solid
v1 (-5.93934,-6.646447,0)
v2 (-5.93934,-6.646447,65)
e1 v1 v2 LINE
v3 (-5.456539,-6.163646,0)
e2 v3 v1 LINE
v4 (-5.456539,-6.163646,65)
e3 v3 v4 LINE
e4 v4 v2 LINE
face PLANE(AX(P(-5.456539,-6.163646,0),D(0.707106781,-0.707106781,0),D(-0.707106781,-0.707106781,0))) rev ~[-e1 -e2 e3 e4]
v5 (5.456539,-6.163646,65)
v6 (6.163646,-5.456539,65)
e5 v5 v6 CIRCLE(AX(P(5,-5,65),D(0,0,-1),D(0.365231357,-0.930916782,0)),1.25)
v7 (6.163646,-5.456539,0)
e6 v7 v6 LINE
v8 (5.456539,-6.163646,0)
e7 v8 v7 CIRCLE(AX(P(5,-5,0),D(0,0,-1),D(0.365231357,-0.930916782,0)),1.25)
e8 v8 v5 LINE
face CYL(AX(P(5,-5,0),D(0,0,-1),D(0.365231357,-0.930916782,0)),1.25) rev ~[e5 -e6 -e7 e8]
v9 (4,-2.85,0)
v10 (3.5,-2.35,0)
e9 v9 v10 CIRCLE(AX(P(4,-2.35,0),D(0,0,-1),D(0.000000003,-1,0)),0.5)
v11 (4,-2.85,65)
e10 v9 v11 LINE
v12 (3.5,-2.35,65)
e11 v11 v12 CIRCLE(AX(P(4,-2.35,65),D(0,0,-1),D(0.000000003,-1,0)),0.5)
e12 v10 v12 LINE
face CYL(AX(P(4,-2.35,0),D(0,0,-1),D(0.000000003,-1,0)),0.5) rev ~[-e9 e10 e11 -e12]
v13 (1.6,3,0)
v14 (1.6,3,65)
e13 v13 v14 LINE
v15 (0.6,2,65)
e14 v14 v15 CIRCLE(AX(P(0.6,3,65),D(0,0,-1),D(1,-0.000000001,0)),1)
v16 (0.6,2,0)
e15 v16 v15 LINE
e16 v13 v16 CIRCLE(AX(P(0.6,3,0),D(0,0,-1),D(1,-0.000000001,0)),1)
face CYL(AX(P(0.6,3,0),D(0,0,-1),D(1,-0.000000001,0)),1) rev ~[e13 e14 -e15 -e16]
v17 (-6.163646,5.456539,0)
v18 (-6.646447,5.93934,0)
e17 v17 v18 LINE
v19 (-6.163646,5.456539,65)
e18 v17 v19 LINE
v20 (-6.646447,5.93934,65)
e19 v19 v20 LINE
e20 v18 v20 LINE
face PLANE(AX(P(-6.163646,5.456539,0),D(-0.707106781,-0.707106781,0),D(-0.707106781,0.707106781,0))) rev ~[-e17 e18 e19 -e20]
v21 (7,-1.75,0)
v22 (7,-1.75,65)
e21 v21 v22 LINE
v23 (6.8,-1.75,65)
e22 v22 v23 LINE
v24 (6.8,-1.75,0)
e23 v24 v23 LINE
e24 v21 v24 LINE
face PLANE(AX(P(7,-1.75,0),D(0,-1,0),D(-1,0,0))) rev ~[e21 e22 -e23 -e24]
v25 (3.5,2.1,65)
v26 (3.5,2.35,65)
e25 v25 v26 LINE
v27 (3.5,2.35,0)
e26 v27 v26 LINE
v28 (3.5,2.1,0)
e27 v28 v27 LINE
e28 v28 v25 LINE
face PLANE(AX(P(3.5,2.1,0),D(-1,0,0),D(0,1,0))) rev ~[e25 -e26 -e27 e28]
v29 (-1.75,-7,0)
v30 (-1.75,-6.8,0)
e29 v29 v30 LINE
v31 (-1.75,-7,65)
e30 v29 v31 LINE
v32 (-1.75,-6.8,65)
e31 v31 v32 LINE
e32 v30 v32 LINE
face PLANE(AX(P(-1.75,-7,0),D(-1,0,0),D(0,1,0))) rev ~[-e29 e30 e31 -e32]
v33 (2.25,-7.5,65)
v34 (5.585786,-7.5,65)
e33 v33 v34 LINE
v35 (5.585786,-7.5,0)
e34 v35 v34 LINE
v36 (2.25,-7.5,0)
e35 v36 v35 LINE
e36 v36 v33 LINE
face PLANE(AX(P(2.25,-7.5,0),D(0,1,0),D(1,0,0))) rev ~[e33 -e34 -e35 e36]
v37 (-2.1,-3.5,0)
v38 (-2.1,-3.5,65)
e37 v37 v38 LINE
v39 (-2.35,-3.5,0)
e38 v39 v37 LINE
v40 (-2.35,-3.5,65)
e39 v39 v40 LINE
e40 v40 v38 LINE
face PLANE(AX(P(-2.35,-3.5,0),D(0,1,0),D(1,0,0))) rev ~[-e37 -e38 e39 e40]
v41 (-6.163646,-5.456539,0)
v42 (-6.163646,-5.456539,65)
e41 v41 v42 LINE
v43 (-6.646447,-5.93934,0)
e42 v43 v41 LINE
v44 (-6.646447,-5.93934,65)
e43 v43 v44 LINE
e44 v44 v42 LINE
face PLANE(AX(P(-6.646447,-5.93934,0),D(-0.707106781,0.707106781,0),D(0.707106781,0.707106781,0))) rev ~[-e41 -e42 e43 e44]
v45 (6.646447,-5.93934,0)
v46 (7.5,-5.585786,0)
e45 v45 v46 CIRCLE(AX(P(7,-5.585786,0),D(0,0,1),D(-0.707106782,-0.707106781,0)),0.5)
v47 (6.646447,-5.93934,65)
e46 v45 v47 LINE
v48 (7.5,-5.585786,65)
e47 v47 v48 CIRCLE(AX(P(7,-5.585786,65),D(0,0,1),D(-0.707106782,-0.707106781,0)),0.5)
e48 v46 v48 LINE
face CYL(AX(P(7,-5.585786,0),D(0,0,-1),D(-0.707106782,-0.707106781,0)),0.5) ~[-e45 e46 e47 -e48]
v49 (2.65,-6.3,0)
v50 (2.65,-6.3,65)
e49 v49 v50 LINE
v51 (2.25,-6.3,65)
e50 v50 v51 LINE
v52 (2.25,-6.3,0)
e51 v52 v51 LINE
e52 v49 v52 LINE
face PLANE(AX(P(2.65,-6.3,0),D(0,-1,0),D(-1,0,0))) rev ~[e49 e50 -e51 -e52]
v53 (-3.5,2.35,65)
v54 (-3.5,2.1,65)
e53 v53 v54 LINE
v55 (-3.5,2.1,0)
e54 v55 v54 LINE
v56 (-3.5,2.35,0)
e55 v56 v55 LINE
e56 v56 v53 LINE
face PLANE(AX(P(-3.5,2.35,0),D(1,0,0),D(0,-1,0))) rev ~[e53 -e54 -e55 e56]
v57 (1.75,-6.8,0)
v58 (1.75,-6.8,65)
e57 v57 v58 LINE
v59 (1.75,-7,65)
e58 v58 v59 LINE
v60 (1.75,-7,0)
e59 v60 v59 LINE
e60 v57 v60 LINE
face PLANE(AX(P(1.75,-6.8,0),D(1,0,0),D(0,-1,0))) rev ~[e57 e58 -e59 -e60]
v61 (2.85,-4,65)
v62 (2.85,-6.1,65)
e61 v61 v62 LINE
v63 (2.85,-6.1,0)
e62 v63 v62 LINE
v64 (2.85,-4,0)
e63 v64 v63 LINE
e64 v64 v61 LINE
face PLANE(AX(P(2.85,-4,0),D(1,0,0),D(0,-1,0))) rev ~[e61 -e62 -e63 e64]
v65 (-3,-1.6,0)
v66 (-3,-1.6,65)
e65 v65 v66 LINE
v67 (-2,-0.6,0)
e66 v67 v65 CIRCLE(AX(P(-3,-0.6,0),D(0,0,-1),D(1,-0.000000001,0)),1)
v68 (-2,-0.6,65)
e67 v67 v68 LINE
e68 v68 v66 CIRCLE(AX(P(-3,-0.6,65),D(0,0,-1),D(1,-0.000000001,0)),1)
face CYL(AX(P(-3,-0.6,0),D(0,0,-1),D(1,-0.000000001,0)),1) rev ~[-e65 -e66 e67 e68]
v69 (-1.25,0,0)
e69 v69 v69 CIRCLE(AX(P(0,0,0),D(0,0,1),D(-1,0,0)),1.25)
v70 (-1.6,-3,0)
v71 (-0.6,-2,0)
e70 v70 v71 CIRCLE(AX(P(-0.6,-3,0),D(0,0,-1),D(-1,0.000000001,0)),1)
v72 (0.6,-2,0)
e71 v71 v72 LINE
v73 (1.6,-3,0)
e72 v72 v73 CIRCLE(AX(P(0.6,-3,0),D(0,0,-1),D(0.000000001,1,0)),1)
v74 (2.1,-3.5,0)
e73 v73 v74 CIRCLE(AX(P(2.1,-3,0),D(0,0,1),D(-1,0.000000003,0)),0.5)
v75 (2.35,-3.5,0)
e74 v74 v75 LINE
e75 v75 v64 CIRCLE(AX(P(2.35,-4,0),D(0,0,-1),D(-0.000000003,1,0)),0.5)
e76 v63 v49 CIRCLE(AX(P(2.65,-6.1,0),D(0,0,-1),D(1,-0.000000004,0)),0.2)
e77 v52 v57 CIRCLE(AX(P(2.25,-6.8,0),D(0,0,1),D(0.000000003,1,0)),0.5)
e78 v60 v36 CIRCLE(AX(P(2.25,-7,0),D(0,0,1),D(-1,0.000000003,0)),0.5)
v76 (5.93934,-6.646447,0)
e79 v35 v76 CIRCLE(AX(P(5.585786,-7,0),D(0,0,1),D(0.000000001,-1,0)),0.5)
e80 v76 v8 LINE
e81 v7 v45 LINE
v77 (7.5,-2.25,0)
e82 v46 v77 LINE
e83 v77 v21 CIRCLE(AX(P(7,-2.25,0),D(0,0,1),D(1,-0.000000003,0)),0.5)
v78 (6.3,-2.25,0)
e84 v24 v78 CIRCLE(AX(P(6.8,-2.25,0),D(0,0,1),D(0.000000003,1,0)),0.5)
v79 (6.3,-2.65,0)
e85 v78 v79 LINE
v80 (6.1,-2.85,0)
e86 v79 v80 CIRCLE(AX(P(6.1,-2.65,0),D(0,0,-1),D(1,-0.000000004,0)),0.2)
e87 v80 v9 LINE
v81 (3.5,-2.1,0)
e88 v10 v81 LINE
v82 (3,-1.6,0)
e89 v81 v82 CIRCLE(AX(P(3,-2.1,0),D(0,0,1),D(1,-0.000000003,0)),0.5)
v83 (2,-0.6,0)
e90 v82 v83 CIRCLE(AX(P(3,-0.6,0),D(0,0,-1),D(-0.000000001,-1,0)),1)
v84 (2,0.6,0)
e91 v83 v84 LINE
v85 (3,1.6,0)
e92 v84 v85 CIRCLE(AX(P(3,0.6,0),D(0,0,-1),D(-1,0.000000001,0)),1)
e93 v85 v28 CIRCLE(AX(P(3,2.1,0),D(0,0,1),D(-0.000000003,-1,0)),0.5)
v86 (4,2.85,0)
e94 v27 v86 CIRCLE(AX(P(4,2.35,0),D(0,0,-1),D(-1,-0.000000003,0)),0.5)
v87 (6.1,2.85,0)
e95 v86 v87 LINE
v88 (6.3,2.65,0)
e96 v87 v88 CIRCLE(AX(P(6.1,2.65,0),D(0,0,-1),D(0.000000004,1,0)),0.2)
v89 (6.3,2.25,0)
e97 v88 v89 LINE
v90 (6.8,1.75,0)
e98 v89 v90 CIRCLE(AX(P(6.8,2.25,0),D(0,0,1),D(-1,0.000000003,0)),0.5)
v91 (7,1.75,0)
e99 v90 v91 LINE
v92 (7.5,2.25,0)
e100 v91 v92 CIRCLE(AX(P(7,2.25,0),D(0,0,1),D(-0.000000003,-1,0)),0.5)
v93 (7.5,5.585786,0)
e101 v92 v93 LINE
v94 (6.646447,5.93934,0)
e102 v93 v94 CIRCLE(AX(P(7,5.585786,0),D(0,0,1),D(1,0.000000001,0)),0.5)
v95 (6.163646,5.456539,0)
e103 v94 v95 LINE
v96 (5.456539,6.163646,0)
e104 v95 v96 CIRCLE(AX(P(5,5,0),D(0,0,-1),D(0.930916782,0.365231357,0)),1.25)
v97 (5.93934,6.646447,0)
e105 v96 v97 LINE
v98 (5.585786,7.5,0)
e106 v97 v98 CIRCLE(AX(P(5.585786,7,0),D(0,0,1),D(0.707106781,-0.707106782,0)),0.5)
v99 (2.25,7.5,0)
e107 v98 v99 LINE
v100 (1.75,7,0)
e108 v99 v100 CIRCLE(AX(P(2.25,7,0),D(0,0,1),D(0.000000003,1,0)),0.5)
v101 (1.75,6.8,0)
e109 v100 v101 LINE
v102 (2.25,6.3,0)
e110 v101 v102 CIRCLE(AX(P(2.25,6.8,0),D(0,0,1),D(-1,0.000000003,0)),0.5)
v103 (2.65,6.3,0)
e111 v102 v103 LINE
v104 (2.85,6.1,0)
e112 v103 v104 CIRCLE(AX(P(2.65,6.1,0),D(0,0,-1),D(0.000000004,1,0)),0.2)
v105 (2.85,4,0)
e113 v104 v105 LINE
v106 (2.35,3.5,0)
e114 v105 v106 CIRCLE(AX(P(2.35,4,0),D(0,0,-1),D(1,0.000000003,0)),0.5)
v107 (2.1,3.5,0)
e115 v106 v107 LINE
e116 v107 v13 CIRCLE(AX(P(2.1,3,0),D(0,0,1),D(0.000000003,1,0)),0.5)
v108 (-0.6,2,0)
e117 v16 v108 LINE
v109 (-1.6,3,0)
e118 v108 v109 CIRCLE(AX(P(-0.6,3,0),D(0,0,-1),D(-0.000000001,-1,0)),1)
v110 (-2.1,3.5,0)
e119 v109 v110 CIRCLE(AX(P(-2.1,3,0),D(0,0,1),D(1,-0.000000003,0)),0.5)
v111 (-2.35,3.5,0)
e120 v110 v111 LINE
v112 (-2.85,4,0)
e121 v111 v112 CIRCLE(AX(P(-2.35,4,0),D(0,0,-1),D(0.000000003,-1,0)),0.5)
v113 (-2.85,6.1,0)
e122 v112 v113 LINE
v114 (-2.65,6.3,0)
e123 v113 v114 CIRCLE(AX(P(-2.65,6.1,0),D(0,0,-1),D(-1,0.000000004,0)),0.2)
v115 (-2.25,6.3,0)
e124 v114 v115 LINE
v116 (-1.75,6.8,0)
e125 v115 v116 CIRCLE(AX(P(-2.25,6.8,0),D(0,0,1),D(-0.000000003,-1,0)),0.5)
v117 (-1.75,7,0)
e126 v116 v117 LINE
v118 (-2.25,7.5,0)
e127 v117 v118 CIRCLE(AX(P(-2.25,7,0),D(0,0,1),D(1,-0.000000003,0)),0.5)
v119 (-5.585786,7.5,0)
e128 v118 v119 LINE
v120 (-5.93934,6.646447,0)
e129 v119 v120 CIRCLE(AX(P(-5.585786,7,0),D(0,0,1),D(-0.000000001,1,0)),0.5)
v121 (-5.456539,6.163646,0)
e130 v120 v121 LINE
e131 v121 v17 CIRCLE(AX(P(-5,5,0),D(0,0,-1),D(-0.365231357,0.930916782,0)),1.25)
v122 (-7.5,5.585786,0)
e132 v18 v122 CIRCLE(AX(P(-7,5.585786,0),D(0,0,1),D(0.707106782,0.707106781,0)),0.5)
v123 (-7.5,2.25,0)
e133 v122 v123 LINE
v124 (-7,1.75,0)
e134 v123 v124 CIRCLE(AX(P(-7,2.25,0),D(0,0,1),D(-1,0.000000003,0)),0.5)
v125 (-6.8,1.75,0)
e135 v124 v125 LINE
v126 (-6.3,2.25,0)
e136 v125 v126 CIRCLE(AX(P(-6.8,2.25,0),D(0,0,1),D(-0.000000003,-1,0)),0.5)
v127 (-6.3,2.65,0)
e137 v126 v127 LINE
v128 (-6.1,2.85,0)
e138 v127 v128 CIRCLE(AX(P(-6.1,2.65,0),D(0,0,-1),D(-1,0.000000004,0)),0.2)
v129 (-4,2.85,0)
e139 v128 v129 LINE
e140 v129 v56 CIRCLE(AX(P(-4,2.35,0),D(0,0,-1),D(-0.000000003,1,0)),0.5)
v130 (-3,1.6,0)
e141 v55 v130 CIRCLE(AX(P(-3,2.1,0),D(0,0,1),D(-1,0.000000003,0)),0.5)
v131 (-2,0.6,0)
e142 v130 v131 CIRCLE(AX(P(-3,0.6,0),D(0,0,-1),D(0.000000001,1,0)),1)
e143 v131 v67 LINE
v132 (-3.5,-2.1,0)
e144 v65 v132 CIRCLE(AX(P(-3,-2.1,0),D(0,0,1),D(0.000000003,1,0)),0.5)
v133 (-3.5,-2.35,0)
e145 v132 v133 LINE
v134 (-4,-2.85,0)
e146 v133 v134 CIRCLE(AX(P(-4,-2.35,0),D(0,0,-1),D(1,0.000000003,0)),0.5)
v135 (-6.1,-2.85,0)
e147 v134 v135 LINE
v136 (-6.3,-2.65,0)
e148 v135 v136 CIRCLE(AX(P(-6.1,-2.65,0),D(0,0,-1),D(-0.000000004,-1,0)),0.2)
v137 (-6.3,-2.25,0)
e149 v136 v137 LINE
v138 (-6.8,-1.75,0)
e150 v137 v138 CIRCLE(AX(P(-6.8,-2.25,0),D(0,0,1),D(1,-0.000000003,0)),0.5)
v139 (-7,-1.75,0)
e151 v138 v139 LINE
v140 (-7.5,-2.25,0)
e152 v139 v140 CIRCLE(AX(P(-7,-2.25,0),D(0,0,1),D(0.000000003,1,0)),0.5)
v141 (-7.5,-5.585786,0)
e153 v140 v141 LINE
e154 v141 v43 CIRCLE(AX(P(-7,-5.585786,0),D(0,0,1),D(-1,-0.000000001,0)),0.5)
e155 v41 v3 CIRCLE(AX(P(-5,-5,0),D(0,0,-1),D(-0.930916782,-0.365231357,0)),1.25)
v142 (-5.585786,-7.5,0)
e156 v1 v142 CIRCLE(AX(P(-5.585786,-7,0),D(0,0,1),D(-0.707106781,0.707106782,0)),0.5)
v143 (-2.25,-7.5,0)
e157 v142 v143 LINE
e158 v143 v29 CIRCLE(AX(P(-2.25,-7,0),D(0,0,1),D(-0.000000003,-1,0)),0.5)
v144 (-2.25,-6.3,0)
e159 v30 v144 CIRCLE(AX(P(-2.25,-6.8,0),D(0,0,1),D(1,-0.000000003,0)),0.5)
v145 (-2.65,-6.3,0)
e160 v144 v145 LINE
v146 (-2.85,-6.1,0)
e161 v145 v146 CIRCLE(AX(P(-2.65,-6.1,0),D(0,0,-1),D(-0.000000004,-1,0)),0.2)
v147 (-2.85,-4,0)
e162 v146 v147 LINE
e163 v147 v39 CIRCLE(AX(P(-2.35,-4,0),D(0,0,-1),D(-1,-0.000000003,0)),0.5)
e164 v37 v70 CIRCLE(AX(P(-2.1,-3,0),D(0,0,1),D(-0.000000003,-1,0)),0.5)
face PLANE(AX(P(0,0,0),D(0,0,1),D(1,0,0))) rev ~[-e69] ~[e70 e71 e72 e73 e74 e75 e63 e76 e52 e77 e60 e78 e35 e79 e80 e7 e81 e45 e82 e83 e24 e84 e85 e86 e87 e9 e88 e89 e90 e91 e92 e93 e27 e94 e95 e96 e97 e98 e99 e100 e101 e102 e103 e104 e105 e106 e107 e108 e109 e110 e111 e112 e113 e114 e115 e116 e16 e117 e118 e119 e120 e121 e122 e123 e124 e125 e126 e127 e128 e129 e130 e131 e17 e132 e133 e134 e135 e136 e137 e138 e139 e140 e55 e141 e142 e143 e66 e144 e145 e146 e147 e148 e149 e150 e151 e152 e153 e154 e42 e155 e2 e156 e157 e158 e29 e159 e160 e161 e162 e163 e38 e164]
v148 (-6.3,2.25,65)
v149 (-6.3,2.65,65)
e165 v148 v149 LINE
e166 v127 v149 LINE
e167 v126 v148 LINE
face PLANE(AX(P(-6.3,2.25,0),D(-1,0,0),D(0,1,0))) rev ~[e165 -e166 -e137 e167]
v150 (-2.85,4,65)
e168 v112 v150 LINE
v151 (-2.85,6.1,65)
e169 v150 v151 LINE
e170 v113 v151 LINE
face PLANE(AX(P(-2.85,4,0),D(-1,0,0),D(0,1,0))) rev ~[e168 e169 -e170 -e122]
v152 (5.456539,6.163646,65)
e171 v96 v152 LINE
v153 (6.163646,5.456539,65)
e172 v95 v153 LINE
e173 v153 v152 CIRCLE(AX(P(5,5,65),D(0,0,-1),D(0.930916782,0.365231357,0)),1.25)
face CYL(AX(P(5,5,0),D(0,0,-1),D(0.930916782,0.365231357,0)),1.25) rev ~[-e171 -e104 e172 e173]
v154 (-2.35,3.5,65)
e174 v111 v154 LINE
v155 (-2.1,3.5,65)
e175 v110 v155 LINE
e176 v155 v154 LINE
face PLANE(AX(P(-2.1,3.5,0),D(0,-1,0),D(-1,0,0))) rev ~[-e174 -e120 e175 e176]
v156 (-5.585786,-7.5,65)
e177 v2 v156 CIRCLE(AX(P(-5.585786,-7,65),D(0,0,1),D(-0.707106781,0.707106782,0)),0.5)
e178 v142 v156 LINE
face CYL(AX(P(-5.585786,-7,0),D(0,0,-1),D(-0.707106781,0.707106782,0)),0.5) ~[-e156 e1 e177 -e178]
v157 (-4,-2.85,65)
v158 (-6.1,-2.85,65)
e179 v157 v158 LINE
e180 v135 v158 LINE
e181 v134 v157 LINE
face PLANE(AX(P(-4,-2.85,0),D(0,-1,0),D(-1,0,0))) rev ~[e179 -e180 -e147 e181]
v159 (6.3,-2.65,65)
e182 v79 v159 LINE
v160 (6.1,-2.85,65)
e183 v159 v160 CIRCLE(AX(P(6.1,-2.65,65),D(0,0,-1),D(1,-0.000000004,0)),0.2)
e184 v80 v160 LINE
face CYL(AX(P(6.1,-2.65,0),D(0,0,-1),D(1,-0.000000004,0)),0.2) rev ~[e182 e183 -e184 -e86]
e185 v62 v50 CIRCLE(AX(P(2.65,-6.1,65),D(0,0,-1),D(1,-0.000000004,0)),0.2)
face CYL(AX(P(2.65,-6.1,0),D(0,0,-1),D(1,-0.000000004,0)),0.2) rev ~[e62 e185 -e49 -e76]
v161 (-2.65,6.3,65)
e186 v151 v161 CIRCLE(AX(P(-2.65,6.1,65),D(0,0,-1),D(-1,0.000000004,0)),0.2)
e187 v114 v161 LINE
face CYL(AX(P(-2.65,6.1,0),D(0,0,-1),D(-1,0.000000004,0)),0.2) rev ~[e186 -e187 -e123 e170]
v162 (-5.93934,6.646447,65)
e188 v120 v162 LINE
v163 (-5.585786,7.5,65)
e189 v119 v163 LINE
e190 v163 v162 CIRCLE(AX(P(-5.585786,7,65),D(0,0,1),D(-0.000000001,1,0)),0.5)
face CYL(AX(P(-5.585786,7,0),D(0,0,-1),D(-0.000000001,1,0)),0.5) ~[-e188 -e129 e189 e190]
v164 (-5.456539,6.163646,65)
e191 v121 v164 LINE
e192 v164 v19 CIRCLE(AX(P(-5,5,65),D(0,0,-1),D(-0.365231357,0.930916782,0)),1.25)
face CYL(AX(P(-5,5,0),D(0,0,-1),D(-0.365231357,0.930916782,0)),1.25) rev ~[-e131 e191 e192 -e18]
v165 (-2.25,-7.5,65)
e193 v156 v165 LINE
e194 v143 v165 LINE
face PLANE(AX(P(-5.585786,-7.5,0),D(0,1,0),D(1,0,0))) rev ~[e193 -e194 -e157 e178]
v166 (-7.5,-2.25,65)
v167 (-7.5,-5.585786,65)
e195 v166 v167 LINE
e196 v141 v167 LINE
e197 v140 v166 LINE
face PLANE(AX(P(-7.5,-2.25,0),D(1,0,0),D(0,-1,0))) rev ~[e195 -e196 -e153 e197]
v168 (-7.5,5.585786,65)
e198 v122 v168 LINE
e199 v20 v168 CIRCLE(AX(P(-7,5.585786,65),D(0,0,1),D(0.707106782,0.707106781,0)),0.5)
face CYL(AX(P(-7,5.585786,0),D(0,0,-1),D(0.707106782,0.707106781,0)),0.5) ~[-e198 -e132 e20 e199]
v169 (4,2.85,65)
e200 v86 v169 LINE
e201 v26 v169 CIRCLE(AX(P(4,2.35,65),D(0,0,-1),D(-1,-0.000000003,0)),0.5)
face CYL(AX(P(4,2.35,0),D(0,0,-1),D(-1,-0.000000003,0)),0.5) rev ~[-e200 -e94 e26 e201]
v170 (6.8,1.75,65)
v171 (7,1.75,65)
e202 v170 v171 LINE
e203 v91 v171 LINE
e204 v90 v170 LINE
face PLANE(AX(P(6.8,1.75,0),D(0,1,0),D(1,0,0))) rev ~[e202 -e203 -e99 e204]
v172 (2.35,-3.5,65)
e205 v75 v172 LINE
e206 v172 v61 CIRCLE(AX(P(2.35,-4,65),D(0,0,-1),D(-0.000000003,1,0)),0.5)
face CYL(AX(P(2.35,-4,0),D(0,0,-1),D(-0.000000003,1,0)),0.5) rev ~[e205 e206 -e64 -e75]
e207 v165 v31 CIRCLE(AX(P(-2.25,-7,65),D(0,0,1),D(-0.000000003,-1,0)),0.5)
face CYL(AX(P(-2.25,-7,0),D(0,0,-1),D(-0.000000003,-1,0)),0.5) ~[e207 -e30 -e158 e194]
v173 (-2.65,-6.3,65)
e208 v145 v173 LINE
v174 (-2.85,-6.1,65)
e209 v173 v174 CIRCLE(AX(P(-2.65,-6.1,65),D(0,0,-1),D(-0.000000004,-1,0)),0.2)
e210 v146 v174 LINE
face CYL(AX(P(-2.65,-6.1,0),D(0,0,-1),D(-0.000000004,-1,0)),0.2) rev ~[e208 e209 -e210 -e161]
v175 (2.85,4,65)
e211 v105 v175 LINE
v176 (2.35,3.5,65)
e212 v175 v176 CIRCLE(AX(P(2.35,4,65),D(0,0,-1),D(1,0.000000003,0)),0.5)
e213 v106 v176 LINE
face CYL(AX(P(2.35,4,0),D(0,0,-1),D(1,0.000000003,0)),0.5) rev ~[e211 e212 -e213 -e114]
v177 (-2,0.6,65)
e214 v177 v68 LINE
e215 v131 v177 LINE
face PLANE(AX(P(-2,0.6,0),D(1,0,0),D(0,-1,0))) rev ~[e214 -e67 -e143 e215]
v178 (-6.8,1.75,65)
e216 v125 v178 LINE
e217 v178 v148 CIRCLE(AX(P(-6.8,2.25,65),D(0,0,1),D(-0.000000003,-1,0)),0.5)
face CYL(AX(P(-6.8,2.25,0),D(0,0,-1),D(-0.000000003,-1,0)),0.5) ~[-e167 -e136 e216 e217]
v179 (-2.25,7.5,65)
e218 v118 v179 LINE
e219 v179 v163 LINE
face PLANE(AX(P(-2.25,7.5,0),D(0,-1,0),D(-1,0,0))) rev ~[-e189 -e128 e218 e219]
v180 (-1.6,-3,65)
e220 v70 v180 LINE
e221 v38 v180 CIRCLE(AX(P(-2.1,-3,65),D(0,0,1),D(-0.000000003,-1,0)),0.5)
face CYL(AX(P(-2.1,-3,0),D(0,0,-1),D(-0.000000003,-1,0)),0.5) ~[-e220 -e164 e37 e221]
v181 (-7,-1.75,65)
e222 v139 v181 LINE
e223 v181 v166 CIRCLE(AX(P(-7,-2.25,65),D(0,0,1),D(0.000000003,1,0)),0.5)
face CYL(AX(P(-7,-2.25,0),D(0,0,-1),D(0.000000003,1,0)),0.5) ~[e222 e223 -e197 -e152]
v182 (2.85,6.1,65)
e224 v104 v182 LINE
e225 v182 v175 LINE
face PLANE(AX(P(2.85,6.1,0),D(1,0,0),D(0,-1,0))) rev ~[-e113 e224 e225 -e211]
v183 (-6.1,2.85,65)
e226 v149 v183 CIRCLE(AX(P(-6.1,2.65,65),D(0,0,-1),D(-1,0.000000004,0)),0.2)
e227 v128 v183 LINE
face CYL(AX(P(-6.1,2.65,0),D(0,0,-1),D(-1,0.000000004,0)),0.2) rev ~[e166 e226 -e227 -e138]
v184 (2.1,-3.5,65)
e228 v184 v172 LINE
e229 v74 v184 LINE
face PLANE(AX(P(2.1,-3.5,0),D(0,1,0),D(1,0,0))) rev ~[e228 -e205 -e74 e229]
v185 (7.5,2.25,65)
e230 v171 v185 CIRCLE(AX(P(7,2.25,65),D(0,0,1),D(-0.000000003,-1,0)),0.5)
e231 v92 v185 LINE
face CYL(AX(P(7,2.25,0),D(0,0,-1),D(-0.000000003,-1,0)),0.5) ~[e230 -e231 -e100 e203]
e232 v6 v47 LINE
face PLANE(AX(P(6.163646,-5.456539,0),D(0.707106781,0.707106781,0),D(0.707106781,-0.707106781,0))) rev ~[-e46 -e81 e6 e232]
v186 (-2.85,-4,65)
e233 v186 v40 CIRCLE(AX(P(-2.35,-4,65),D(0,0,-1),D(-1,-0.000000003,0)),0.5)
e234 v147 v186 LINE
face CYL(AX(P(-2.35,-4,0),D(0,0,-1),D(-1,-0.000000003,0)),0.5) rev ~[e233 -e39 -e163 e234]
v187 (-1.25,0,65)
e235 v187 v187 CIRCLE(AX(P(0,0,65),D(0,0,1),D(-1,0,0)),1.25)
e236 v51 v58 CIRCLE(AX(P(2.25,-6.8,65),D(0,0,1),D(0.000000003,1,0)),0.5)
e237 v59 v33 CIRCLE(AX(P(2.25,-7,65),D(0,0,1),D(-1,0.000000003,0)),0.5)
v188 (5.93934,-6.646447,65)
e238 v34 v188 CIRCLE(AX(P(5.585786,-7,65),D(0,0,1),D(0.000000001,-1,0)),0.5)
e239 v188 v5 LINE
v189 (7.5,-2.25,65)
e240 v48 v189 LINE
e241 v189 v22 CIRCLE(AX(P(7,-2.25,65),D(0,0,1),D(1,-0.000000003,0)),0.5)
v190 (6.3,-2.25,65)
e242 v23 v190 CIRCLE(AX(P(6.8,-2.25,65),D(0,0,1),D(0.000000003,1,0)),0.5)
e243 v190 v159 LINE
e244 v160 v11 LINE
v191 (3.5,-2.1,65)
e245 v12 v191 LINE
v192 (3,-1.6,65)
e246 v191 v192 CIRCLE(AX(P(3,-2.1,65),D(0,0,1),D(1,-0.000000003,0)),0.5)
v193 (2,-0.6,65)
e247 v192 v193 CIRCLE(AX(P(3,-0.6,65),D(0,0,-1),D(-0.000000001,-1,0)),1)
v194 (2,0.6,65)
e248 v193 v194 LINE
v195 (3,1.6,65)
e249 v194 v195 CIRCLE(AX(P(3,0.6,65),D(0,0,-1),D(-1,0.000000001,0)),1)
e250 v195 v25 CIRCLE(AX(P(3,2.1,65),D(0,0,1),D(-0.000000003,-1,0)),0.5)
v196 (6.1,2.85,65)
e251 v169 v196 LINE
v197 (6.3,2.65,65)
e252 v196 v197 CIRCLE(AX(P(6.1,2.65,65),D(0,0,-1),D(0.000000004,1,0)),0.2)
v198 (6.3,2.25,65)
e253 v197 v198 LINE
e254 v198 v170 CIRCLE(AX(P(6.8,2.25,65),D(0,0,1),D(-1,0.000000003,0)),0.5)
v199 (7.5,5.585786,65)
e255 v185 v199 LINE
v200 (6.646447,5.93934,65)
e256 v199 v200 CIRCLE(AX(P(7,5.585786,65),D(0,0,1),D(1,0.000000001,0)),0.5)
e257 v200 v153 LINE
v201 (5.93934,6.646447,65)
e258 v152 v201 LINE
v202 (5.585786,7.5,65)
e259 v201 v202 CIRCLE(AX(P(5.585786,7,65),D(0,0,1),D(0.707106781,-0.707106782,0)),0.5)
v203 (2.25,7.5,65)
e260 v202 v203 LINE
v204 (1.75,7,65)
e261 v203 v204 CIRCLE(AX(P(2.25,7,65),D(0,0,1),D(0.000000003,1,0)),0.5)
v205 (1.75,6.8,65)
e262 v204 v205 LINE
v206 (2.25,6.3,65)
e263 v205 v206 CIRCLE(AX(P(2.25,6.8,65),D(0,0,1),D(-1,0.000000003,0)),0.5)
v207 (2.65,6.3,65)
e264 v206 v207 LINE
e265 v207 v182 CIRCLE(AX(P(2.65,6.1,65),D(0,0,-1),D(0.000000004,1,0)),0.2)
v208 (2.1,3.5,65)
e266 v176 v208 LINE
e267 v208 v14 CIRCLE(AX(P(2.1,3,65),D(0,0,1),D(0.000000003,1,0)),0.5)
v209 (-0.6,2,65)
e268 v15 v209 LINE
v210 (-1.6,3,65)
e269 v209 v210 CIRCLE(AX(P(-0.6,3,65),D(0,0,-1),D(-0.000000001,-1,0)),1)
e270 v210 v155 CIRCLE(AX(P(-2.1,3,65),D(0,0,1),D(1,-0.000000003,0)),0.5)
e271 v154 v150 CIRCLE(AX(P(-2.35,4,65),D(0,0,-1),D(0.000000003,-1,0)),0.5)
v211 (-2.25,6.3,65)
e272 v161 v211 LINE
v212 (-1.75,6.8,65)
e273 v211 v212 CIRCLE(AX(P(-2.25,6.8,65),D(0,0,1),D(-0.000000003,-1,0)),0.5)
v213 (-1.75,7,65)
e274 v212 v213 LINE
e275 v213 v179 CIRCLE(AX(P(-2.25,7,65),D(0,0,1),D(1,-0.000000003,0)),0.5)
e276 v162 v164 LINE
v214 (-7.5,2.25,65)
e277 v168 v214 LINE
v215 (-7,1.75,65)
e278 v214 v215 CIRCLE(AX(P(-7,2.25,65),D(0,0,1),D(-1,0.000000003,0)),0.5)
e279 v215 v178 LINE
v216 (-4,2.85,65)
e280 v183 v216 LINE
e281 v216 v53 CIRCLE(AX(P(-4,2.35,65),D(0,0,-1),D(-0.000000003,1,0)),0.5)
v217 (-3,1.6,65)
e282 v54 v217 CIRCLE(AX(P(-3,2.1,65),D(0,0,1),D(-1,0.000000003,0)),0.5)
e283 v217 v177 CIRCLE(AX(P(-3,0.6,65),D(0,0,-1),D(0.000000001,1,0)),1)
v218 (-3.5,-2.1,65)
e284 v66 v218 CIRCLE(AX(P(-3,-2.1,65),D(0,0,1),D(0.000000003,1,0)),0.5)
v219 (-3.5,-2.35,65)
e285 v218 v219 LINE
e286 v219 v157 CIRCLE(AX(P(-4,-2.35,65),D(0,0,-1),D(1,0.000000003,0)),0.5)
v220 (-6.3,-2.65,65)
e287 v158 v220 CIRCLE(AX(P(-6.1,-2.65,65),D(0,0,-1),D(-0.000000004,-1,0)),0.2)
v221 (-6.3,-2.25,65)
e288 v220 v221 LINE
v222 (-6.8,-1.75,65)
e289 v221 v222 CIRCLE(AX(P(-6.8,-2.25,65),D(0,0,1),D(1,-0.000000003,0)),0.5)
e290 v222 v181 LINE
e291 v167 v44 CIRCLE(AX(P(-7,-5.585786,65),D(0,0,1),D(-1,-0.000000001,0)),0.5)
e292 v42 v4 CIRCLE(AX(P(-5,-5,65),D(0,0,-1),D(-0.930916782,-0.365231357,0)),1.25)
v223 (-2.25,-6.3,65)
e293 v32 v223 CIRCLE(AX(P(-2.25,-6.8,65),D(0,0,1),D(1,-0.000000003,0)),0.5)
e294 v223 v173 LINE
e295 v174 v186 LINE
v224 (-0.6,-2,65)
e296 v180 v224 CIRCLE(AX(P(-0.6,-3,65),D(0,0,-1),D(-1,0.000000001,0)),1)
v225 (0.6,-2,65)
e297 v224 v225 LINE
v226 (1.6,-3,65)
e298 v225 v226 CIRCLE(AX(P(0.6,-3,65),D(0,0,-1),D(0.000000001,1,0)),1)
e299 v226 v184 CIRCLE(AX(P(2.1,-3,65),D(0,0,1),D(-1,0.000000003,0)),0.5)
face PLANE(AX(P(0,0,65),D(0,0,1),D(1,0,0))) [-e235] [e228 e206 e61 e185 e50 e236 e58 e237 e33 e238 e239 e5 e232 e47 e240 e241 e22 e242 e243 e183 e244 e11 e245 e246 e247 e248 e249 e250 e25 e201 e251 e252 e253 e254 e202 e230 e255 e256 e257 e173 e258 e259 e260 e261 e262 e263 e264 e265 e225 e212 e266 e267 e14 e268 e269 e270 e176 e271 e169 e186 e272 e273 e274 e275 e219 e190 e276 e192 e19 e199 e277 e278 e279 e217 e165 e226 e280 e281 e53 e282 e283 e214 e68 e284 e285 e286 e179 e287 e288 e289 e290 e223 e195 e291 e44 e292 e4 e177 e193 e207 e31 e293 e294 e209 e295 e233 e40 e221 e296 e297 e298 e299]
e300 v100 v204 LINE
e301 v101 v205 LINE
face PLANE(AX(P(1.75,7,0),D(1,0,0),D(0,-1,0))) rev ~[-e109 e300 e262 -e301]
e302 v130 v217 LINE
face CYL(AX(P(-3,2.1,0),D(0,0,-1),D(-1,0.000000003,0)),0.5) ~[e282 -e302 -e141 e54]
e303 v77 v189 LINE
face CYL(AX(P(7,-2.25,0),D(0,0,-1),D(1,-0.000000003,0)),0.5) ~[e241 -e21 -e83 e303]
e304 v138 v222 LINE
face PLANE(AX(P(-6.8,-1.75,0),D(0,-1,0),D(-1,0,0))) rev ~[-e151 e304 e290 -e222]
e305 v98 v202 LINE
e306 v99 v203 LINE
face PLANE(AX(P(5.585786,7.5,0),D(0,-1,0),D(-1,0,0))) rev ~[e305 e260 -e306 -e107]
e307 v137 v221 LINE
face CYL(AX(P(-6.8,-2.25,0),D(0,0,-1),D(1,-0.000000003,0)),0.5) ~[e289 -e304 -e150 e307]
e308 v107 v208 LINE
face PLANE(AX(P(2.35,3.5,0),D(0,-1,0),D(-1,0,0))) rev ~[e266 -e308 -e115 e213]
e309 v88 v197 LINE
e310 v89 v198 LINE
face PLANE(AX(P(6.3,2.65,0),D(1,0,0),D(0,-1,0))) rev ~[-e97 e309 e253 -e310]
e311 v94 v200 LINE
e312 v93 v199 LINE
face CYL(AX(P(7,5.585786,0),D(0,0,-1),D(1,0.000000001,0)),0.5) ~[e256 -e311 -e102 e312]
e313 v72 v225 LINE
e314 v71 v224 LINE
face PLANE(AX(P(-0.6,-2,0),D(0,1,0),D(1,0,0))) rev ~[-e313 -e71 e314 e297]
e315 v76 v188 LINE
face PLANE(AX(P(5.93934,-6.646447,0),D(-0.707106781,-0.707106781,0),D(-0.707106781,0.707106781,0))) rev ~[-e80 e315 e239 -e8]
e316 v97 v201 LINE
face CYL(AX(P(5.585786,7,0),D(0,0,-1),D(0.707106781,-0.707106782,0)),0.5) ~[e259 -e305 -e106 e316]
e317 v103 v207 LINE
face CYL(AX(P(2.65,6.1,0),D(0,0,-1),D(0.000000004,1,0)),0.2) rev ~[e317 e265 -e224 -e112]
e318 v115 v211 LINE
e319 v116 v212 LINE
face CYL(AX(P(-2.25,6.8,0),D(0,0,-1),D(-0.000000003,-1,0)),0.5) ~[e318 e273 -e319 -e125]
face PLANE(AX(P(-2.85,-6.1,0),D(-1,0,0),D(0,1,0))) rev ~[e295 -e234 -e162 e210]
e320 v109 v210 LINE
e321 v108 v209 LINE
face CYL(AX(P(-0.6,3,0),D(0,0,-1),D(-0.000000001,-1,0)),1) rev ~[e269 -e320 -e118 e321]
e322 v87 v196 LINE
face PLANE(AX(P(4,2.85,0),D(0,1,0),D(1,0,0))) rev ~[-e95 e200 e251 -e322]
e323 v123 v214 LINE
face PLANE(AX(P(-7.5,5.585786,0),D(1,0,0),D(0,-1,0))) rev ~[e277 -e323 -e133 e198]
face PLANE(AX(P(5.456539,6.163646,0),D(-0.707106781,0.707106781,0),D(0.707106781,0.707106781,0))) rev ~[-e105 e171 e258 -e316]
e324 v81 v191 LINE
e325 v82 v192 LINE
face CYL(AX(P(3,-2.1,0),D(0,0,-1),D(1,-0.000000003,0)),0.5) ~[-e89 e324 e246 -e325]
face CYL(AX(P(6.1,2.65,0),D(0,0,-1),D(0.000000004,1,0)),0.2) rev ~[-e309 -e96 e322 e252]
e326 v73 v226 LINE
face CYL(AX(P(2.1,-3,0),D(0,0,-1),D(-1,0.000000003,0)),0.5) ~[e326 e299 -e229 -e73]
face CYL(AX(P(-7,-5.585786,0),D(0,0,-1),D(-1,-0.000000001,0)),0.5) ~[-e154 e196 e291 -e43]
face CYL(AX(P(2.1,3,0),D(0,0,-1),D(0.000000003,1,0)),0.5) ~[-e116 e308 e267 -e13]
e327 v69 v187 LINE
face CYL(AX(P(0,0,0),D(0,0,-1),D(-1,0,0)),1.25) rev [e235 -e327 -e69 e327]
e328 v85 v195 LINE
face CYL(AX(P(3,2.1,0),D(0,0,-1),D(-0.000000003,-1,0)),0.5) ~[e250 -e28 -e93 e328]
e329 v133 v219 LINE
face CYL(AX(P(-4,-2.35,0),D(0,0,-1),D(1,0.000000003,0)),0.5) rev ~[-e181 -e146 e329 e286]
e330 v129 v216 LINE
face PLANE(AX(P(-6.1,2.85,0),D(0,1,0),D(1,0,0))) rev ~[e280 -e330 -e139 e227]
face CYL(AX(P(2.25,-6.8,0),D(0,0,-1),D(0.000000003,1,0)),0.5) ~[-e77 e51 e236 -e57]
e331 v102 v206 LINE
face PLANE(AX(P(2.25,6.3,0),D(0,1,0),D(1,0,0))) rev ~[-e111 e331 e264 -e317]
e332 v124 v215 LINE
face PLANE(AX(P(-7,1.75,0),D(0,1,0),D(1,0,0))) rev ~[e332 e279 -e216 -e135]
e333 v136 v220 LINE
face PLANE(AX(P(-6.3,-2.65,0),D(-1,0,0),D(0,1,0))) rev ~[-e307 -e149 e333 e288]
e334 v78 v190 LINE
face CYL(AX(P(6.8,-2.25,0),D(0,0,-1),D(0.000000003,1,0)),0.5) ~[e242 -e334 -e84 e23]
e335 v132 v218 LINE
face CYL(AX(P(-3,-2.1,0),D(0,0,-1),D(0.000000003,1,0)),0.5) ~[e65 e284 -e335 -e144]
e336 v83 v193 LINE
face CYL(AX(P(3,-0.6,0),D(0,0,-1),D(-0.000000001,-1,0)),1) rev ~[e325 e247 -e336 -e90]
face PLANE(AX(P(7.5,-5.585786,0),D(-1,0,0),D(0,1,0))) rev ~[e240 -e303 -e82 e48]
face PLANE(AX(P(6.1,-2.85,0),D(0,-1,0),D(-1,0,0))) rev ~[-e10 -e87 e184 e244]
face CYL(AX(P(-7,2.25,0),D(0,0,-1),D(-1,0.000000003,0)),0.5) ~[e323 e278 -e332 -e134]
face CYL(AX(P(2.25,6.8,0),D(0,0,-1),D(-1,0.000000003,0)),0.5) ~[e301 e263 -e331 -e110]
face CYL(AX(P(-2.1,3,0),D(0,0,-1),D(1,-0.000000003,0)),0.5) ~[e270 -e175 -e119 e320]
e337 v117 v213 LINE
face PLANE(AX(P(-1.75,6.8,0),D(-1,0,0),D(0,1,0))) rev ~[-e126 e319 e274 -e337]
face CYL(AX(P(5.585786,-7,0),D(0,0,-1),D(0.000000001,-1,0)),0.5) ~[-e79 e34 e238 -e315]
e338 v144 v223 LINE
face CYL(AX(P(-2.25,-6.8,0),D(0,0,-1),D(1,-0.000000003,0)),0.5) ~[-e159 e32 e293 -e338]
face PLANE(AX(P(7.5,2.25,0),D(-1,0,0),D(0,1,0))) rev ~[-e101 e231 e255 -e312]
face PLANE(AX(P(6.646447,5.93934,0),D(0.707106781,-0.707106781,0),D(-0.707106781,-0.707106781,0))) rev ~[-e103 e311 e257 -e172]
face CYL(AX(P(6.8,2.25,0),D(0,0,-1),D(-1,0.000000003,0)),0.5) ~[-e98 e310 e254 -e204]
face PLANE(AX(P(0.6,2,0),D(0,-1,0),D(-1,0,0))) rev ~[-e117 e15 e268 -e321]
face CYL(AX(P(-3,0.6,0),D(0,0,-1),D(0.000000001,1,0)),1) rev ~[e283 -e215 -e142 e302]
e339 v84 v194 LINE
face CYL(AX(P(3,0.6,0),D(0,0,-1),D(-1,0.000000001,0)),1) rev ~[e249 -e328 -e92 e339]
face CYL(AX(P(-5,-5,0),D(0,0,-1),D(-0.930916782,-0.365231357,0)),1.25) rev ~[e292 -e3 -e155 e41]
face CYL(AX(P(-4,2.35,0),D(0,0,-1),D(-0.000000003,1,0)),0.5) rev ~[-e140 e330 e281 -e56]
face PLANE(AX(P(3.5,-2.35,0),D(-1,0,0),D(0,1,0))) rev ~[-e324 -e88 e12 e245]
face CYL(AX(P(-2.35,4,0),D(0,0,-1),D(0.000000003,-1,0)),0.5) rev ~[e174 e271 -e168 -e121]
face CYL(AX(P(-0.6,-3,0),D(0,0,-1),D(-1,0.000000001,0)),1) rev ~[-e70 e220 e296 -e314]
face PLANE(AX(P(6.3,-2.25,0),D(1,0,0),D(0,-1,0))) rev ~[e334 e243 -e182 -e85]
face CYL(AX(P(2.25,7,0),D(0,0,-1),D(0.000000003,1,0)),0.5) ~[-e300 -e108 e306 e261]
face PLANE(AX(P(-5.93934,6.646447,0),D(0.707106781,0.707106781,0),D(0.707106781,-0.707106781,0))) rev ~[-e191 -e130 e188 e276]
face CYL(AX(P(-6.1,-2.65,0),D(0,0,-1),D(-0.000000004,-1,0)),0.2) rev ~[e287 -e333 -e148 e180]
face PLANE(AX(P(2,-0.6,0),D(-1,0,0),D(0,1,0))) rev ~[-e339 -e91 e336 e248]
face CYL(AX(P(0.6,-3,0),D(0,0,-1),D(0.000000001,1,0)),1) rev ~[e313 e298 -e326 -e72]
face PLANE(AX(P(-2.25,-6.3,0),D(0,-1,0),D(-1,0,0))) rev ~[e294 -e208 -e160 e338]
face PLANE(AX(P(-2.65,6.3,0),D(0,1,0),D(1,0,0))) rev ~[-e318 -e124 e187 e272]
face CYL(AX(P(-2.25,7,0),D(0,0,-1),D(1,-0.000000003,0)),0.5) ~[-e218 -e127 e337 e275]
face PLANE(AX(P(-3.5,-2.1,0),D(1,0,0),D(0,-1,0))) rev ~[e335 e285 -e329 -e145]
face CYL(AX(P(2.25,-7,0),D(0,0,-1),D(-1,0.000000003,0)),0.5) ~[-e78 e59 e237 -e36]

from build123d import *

# Parameters (mm, degrees)
SKETCH1_R           = 1.25
BOSS_EXTRUDE1_DEPTH = 65


with BuildPart() as part:
    # Sketch1 → Boss-Extrude1 (new body)
    with BuildSketch(Plane.XY):
        with BuildLine():
            Line((6.646446609, 5.939339828), (6.163645978, 5.456539197))
            ThreePointArc((6.163645978, 5.456539197), (4.116116524, 4.116116524), (5.456539197, 6.163645978))
            Line((5.456539197, 6.163645978), (5.939339828, 6.646446609))
            ThreePointArc((5.939339828, 6.646446609), (6.047726204, 7.191341716), (5.585786438, 7.5))
            Line((5.585786438, 7.5), (2.25, 7.5))
            ThreePointArc((2.25, 7.5), (1.896446609, 7.353553391), (1.75, 7))
            Line((1.75, 7), (1.75, 6.8))
            ThreePointArc((1.75, 6.8), (1.896446609, 6.446446609), (2.25, 6.3))
            Line((2.25, 6.3), (2.65, 6.3))
            ThreePointArc((2.65, 6.3), (2.791421356, 6.241421356), (2.85, 6.1))
            Line((2.85, 6.1), (2.85, 4))
            ThreePointArc((2.85, 4), (2.703553391, 3.646446609), (2.35, 3.5))
            Line((2.35, 3.5), (2.1, 3.5))
            ThreePointArc((2.1, 3.5), (1.746446609, 3.353553391), (1.6, 3))
            ThreePointArc((1.6, 3), (1.307106781, 2.292893219), (0.6, 2))
            Line((0.6, 2), (-0.6, 2))
            ThreePointArc((-0.6, 2), (-1.307106781, 2.292893219), (-1.6, 3))
            ThreePointArc((-1.6, 3), (-1.746446609, 3.353553391), (-2.1, 3.5))
            Line((-2.1, 3.5), (-2.35, 3.5))
            ThreePointArc((-2.35, 3.5), (-2.703553391, 3.646446609), (-2.85, 4))
            Line((-2.85, 4), (-2.85, 6.1))
            ThreePointArc((-2.85, 6.1), (-2.791421356, 6.241421356), (-2.65, 6.3))
            Line((-2.65, 6.3), (-2.25, 6.3))
            ThreePointArc((-2.25, 6.3), (-1.896446609, 6.446446609), (-1.75, 6.8))
            Line((-1.75, 6.8), (-1.75, 7))
            ThreePointArc((-1.75, 7), (-1.896446609, 7.353553391), (-2.25, 7.5))
            Line((-2.25, 7.5), (-5.585786438, 7.5))
            ThreePointArc((-5.585786438, 7.5), (-6.047726204, 7.191341716), (-5.939339828, 6.646446609))
            Line((-5.939339828, 6.646446609), (-5.456539197, 6.163645978))
            ThreePointArc((-5.456539197, 6.163645978), (-4.116116524, 4.116116524), (-6.163645978, 5.456539197))
            Line((-6.163645978, 5.456539197), (-6.646446609, 5.939339828))
            ThreePointArc((-6.646446609, 5.939339828), (-7.191341716, 6.047726204), (-7.5, 5.585786438))
            Line((-7.5, 5.585786438), (-7.5, 2.25))
            ThreePointArc((-7.5, 2.25), (-7.353553391, 1.896446609), (-7, 1.75))
            Line((-7, 1.75), (-6.8, 1.75))
            ThreePointArc((-6.8, 1.75), (-6.446446609, 1.896446609), (-6.3, 2.25))
            Line((-6.3, 2.25), (-6.3, 2.65))
            ThreePointArc((-6.3, 2.65), (-6.241421356, 2.791421356), (-6.1, 2.85))
            Line((-6.1, 2.85), (-4, 2.85))
            ThreePointArc((-4, 2.85), (-3.646446609, 2.703553391), (-3.5, 2.35))
            Line((-3.5, 2.35), (-3.5, 2.1))
            ThreePointArc((-3.5, 2.1), (-3.353553391, 1.746446609), (-3, 1.6))
            ThreePointArc((-3, 1.6), (-2.292893219, 1.307106781), (-2, 0.6))
            Line((-2, 0.6), (-2, -0.6))
            ThreePointArc((-2, -0.6), (-2.292893219, -1.307106781), (-3, -1.6))
            ThreePointArc((-3, -1.6), (-3.353553391, -1.746446609), (-3.5, -2.1))
            Line((-3.5, -2.1), (-3.5, -2.35))
            ThreePointArc((-3.5, -2.35), (-3.646446609, -2.703553391), (-4, -2.85))
            Line((-4, -2.85), (-6.1, -2.85))
            ThreePointArc((-6.1, -2.85), (-6.241421356, -2.791421356), (-6.3, -2.65))
            Line((-6.3, -2.65), (-6.3, -2.25))
            ThreePointArc((-6.3, -2.25), (-6.446446609, -1.896446609), (-6.8, -1.75))
            Line((-6.8, -1.75), (-7, -1.75))
            ThreePointArc((-7, -1.75), (-7.353553391, -1.896446609), (-7.5, -2.25))
            Line((-7.5, -2.25), (-7.5, -5.585786438))
            ThreePointArc((-7.5, -5.585786438), (-7.191341716, -6.047726204), (-6.646446609, -5.939339828))
            Line((-6.646446609, -5.939339828), (-6.163645978, -5.456539197))
            ThreePointArc((-6.163645978, -5.456539197), (-4.116116524, -4.116116524), (-5.456539197, -6.163645978))
            Line((-5.456539197, -6.163645978), (-5.939339828, -6.646446609))
            ThreePointArc((-5.939339828, -6.646446609), (-6.047726204, -7.191341716), (-5.585786438, -7.5))
            Line((-5.585786438, -7.5), (-2.25, -7.5))
            ThreePointArc((-2.25, -7.5), (-1.896446609, -7.353553391), (-1.75, -7))
            Line((-1.75, -7), (-1.75, -6.8))
            ThreePointArc((-1.75, -6.8), (-1.896446609, -6.446446609), (-2.25, -6.3))
            Line((-2.25, -6.3), (-2.65, -6.3))
            ThreePointArc((-2.65, -6.3), (-2.791421356, -6.241421356), (-2.85, -6.1))
            Line((-2.85, -6.1), (-2.85, -4))
            ThreePointArc((-2.85, -4), (-2.703553391, -3.646446609), (-2.35, -3.5))
            Line((-2.35, -3.5), (-2.1, -3.5))
            ThreePointArc((-2.1, -3.5), (-1.746446609, -3.353553391), (-1.6, -3))
            ThreePointArc((-1.6, -3), (-1.307106781, -2.292893219), (-0.6, -2))
            Line((-0.6, -2), (0.6, -2))
            ThreePointArc((0.6, -2), (1.307106781, -2.292893219), (1.6, -3))
            ThreePointArc((1.6, -3), (1.746446609, -3.353553391), (2.1, -3.5))
            Line((2.1, -3.5), (2.35, -3.5))
            ThreePointArc((2.35, -3.5), (2.703553391, -3.646446609), (2.85, -4))
            Line((2.85, -4), (2.85, -6.1))
            ThreePointArc((2.85, -6.1), (2.791421356, -6.241421356), (2.65, -6.3))
            Line((2.65, -6.3), (2.25, -6.3))
            ThreePointArc((2.25, -6.3), (1.896446609, -6.446446609), (1.75, -6.8))
            Line((1.75, -6.8), (1.75, -7))
            ThreePointArc((1.75, -7), (1.896446609, -7.353553391), (2.25, -7.5))
            Line((2.25, -7.5), (5.585786438, -7.5))
            ThreePointArc((5.585786438, -7.5), (6.047726204, -7.191341716), (5.939339828, -6.646446609))
            Line((5.939339828, -6.646446609), (5.456539197, -6.163645978))
            ThreePointArc((5.456539197, -6.163645978), (4.116116524, -4.116116524), (6.163645978, -5.456539197))
            Line((6.163645978, -5.456539197), (6.646446609, -5.939339828))
            ThreePointArc((6.646446609, -5.939339828), (7.191341716, -6.047726204), (7.5, -5.585786438))
            Line((7.5, -5.585786438), (7.5, -2.25))
            ThreePointArc((7.5, -2.25), (7.353553391, -1.896446609), (7, -1.75))
            Line((7, -1.75), (6.8, -1.75))
            ThreePointArc((6.8, -1.75), (6.446446609, -1.896446609), (6.3, -2.25))
            Line((6.3, -2.25), (6.3, -2.65))
            ThreePointArc((6.3, -2.65), (6.241421356, -2.791421356), (6.1, -2.85))
            Line((6.1, -2.85), (4, -2.85))
            ThreePointArc((4, -2.85), (3.646446609, -2.703553391), (3.5, -2.35))
            Line((3.5, -2.35), (3.5, -2.1))
            ThreePointArc((3.5, -2.1), (3.353553391, -1.746446609), (3, -1.6))
            ThreePointArc((3, -1.6), (2.292893219, -1.307106781), (2, -0.6))
            Line((2, -0.6), (2, 0.6))
            ThreePointArc((2, 0.6), (2.292893219, 1.307106781), (3, 1.6))
            ThreePointArc((3, 1.6), (3.353553391, 1.746446609), (3.5, 2.1))
            Line((3.5, 2.1), (3.5, 2.35))
            ThreePointArc((3.5, 2.35), (3.646446609, 2.703553391), (4, 2.85))
            Line((4, 2.85), (6.1, 2.85))
            ThreePointArc((6.1, 2.85), (6.241421356, 2.791421356), (6.3, 2.65))
            Line((6.3, 2.65), (6.3, 2.25))
            ThreePointArc((6.3, 2.25), (6.446446609, 1.896446609), (6.8, 1.75))
            Line((6.8, 1.75), (7, 1.75))
            ThreePointArc((7, 1.75), (7.353553391, 1.896446609), (7.5, 2.25))
            Line((7.5, 2.25), (7.5, 5.585786438))
            ThreePointArc((7.5, 5.585786438), (7.191341716, 6.047726204), (6.646446609, 5.939339828))
        make_face()
        with Locations(Location((0, 0, 0), (0, 0, 180))):
            Circle(SKETCH1_R, mode=Mode.SUBTRACT)
    extrude(amount=BOSS_EXTRUDE1_DEPTH)


solid = part.part
